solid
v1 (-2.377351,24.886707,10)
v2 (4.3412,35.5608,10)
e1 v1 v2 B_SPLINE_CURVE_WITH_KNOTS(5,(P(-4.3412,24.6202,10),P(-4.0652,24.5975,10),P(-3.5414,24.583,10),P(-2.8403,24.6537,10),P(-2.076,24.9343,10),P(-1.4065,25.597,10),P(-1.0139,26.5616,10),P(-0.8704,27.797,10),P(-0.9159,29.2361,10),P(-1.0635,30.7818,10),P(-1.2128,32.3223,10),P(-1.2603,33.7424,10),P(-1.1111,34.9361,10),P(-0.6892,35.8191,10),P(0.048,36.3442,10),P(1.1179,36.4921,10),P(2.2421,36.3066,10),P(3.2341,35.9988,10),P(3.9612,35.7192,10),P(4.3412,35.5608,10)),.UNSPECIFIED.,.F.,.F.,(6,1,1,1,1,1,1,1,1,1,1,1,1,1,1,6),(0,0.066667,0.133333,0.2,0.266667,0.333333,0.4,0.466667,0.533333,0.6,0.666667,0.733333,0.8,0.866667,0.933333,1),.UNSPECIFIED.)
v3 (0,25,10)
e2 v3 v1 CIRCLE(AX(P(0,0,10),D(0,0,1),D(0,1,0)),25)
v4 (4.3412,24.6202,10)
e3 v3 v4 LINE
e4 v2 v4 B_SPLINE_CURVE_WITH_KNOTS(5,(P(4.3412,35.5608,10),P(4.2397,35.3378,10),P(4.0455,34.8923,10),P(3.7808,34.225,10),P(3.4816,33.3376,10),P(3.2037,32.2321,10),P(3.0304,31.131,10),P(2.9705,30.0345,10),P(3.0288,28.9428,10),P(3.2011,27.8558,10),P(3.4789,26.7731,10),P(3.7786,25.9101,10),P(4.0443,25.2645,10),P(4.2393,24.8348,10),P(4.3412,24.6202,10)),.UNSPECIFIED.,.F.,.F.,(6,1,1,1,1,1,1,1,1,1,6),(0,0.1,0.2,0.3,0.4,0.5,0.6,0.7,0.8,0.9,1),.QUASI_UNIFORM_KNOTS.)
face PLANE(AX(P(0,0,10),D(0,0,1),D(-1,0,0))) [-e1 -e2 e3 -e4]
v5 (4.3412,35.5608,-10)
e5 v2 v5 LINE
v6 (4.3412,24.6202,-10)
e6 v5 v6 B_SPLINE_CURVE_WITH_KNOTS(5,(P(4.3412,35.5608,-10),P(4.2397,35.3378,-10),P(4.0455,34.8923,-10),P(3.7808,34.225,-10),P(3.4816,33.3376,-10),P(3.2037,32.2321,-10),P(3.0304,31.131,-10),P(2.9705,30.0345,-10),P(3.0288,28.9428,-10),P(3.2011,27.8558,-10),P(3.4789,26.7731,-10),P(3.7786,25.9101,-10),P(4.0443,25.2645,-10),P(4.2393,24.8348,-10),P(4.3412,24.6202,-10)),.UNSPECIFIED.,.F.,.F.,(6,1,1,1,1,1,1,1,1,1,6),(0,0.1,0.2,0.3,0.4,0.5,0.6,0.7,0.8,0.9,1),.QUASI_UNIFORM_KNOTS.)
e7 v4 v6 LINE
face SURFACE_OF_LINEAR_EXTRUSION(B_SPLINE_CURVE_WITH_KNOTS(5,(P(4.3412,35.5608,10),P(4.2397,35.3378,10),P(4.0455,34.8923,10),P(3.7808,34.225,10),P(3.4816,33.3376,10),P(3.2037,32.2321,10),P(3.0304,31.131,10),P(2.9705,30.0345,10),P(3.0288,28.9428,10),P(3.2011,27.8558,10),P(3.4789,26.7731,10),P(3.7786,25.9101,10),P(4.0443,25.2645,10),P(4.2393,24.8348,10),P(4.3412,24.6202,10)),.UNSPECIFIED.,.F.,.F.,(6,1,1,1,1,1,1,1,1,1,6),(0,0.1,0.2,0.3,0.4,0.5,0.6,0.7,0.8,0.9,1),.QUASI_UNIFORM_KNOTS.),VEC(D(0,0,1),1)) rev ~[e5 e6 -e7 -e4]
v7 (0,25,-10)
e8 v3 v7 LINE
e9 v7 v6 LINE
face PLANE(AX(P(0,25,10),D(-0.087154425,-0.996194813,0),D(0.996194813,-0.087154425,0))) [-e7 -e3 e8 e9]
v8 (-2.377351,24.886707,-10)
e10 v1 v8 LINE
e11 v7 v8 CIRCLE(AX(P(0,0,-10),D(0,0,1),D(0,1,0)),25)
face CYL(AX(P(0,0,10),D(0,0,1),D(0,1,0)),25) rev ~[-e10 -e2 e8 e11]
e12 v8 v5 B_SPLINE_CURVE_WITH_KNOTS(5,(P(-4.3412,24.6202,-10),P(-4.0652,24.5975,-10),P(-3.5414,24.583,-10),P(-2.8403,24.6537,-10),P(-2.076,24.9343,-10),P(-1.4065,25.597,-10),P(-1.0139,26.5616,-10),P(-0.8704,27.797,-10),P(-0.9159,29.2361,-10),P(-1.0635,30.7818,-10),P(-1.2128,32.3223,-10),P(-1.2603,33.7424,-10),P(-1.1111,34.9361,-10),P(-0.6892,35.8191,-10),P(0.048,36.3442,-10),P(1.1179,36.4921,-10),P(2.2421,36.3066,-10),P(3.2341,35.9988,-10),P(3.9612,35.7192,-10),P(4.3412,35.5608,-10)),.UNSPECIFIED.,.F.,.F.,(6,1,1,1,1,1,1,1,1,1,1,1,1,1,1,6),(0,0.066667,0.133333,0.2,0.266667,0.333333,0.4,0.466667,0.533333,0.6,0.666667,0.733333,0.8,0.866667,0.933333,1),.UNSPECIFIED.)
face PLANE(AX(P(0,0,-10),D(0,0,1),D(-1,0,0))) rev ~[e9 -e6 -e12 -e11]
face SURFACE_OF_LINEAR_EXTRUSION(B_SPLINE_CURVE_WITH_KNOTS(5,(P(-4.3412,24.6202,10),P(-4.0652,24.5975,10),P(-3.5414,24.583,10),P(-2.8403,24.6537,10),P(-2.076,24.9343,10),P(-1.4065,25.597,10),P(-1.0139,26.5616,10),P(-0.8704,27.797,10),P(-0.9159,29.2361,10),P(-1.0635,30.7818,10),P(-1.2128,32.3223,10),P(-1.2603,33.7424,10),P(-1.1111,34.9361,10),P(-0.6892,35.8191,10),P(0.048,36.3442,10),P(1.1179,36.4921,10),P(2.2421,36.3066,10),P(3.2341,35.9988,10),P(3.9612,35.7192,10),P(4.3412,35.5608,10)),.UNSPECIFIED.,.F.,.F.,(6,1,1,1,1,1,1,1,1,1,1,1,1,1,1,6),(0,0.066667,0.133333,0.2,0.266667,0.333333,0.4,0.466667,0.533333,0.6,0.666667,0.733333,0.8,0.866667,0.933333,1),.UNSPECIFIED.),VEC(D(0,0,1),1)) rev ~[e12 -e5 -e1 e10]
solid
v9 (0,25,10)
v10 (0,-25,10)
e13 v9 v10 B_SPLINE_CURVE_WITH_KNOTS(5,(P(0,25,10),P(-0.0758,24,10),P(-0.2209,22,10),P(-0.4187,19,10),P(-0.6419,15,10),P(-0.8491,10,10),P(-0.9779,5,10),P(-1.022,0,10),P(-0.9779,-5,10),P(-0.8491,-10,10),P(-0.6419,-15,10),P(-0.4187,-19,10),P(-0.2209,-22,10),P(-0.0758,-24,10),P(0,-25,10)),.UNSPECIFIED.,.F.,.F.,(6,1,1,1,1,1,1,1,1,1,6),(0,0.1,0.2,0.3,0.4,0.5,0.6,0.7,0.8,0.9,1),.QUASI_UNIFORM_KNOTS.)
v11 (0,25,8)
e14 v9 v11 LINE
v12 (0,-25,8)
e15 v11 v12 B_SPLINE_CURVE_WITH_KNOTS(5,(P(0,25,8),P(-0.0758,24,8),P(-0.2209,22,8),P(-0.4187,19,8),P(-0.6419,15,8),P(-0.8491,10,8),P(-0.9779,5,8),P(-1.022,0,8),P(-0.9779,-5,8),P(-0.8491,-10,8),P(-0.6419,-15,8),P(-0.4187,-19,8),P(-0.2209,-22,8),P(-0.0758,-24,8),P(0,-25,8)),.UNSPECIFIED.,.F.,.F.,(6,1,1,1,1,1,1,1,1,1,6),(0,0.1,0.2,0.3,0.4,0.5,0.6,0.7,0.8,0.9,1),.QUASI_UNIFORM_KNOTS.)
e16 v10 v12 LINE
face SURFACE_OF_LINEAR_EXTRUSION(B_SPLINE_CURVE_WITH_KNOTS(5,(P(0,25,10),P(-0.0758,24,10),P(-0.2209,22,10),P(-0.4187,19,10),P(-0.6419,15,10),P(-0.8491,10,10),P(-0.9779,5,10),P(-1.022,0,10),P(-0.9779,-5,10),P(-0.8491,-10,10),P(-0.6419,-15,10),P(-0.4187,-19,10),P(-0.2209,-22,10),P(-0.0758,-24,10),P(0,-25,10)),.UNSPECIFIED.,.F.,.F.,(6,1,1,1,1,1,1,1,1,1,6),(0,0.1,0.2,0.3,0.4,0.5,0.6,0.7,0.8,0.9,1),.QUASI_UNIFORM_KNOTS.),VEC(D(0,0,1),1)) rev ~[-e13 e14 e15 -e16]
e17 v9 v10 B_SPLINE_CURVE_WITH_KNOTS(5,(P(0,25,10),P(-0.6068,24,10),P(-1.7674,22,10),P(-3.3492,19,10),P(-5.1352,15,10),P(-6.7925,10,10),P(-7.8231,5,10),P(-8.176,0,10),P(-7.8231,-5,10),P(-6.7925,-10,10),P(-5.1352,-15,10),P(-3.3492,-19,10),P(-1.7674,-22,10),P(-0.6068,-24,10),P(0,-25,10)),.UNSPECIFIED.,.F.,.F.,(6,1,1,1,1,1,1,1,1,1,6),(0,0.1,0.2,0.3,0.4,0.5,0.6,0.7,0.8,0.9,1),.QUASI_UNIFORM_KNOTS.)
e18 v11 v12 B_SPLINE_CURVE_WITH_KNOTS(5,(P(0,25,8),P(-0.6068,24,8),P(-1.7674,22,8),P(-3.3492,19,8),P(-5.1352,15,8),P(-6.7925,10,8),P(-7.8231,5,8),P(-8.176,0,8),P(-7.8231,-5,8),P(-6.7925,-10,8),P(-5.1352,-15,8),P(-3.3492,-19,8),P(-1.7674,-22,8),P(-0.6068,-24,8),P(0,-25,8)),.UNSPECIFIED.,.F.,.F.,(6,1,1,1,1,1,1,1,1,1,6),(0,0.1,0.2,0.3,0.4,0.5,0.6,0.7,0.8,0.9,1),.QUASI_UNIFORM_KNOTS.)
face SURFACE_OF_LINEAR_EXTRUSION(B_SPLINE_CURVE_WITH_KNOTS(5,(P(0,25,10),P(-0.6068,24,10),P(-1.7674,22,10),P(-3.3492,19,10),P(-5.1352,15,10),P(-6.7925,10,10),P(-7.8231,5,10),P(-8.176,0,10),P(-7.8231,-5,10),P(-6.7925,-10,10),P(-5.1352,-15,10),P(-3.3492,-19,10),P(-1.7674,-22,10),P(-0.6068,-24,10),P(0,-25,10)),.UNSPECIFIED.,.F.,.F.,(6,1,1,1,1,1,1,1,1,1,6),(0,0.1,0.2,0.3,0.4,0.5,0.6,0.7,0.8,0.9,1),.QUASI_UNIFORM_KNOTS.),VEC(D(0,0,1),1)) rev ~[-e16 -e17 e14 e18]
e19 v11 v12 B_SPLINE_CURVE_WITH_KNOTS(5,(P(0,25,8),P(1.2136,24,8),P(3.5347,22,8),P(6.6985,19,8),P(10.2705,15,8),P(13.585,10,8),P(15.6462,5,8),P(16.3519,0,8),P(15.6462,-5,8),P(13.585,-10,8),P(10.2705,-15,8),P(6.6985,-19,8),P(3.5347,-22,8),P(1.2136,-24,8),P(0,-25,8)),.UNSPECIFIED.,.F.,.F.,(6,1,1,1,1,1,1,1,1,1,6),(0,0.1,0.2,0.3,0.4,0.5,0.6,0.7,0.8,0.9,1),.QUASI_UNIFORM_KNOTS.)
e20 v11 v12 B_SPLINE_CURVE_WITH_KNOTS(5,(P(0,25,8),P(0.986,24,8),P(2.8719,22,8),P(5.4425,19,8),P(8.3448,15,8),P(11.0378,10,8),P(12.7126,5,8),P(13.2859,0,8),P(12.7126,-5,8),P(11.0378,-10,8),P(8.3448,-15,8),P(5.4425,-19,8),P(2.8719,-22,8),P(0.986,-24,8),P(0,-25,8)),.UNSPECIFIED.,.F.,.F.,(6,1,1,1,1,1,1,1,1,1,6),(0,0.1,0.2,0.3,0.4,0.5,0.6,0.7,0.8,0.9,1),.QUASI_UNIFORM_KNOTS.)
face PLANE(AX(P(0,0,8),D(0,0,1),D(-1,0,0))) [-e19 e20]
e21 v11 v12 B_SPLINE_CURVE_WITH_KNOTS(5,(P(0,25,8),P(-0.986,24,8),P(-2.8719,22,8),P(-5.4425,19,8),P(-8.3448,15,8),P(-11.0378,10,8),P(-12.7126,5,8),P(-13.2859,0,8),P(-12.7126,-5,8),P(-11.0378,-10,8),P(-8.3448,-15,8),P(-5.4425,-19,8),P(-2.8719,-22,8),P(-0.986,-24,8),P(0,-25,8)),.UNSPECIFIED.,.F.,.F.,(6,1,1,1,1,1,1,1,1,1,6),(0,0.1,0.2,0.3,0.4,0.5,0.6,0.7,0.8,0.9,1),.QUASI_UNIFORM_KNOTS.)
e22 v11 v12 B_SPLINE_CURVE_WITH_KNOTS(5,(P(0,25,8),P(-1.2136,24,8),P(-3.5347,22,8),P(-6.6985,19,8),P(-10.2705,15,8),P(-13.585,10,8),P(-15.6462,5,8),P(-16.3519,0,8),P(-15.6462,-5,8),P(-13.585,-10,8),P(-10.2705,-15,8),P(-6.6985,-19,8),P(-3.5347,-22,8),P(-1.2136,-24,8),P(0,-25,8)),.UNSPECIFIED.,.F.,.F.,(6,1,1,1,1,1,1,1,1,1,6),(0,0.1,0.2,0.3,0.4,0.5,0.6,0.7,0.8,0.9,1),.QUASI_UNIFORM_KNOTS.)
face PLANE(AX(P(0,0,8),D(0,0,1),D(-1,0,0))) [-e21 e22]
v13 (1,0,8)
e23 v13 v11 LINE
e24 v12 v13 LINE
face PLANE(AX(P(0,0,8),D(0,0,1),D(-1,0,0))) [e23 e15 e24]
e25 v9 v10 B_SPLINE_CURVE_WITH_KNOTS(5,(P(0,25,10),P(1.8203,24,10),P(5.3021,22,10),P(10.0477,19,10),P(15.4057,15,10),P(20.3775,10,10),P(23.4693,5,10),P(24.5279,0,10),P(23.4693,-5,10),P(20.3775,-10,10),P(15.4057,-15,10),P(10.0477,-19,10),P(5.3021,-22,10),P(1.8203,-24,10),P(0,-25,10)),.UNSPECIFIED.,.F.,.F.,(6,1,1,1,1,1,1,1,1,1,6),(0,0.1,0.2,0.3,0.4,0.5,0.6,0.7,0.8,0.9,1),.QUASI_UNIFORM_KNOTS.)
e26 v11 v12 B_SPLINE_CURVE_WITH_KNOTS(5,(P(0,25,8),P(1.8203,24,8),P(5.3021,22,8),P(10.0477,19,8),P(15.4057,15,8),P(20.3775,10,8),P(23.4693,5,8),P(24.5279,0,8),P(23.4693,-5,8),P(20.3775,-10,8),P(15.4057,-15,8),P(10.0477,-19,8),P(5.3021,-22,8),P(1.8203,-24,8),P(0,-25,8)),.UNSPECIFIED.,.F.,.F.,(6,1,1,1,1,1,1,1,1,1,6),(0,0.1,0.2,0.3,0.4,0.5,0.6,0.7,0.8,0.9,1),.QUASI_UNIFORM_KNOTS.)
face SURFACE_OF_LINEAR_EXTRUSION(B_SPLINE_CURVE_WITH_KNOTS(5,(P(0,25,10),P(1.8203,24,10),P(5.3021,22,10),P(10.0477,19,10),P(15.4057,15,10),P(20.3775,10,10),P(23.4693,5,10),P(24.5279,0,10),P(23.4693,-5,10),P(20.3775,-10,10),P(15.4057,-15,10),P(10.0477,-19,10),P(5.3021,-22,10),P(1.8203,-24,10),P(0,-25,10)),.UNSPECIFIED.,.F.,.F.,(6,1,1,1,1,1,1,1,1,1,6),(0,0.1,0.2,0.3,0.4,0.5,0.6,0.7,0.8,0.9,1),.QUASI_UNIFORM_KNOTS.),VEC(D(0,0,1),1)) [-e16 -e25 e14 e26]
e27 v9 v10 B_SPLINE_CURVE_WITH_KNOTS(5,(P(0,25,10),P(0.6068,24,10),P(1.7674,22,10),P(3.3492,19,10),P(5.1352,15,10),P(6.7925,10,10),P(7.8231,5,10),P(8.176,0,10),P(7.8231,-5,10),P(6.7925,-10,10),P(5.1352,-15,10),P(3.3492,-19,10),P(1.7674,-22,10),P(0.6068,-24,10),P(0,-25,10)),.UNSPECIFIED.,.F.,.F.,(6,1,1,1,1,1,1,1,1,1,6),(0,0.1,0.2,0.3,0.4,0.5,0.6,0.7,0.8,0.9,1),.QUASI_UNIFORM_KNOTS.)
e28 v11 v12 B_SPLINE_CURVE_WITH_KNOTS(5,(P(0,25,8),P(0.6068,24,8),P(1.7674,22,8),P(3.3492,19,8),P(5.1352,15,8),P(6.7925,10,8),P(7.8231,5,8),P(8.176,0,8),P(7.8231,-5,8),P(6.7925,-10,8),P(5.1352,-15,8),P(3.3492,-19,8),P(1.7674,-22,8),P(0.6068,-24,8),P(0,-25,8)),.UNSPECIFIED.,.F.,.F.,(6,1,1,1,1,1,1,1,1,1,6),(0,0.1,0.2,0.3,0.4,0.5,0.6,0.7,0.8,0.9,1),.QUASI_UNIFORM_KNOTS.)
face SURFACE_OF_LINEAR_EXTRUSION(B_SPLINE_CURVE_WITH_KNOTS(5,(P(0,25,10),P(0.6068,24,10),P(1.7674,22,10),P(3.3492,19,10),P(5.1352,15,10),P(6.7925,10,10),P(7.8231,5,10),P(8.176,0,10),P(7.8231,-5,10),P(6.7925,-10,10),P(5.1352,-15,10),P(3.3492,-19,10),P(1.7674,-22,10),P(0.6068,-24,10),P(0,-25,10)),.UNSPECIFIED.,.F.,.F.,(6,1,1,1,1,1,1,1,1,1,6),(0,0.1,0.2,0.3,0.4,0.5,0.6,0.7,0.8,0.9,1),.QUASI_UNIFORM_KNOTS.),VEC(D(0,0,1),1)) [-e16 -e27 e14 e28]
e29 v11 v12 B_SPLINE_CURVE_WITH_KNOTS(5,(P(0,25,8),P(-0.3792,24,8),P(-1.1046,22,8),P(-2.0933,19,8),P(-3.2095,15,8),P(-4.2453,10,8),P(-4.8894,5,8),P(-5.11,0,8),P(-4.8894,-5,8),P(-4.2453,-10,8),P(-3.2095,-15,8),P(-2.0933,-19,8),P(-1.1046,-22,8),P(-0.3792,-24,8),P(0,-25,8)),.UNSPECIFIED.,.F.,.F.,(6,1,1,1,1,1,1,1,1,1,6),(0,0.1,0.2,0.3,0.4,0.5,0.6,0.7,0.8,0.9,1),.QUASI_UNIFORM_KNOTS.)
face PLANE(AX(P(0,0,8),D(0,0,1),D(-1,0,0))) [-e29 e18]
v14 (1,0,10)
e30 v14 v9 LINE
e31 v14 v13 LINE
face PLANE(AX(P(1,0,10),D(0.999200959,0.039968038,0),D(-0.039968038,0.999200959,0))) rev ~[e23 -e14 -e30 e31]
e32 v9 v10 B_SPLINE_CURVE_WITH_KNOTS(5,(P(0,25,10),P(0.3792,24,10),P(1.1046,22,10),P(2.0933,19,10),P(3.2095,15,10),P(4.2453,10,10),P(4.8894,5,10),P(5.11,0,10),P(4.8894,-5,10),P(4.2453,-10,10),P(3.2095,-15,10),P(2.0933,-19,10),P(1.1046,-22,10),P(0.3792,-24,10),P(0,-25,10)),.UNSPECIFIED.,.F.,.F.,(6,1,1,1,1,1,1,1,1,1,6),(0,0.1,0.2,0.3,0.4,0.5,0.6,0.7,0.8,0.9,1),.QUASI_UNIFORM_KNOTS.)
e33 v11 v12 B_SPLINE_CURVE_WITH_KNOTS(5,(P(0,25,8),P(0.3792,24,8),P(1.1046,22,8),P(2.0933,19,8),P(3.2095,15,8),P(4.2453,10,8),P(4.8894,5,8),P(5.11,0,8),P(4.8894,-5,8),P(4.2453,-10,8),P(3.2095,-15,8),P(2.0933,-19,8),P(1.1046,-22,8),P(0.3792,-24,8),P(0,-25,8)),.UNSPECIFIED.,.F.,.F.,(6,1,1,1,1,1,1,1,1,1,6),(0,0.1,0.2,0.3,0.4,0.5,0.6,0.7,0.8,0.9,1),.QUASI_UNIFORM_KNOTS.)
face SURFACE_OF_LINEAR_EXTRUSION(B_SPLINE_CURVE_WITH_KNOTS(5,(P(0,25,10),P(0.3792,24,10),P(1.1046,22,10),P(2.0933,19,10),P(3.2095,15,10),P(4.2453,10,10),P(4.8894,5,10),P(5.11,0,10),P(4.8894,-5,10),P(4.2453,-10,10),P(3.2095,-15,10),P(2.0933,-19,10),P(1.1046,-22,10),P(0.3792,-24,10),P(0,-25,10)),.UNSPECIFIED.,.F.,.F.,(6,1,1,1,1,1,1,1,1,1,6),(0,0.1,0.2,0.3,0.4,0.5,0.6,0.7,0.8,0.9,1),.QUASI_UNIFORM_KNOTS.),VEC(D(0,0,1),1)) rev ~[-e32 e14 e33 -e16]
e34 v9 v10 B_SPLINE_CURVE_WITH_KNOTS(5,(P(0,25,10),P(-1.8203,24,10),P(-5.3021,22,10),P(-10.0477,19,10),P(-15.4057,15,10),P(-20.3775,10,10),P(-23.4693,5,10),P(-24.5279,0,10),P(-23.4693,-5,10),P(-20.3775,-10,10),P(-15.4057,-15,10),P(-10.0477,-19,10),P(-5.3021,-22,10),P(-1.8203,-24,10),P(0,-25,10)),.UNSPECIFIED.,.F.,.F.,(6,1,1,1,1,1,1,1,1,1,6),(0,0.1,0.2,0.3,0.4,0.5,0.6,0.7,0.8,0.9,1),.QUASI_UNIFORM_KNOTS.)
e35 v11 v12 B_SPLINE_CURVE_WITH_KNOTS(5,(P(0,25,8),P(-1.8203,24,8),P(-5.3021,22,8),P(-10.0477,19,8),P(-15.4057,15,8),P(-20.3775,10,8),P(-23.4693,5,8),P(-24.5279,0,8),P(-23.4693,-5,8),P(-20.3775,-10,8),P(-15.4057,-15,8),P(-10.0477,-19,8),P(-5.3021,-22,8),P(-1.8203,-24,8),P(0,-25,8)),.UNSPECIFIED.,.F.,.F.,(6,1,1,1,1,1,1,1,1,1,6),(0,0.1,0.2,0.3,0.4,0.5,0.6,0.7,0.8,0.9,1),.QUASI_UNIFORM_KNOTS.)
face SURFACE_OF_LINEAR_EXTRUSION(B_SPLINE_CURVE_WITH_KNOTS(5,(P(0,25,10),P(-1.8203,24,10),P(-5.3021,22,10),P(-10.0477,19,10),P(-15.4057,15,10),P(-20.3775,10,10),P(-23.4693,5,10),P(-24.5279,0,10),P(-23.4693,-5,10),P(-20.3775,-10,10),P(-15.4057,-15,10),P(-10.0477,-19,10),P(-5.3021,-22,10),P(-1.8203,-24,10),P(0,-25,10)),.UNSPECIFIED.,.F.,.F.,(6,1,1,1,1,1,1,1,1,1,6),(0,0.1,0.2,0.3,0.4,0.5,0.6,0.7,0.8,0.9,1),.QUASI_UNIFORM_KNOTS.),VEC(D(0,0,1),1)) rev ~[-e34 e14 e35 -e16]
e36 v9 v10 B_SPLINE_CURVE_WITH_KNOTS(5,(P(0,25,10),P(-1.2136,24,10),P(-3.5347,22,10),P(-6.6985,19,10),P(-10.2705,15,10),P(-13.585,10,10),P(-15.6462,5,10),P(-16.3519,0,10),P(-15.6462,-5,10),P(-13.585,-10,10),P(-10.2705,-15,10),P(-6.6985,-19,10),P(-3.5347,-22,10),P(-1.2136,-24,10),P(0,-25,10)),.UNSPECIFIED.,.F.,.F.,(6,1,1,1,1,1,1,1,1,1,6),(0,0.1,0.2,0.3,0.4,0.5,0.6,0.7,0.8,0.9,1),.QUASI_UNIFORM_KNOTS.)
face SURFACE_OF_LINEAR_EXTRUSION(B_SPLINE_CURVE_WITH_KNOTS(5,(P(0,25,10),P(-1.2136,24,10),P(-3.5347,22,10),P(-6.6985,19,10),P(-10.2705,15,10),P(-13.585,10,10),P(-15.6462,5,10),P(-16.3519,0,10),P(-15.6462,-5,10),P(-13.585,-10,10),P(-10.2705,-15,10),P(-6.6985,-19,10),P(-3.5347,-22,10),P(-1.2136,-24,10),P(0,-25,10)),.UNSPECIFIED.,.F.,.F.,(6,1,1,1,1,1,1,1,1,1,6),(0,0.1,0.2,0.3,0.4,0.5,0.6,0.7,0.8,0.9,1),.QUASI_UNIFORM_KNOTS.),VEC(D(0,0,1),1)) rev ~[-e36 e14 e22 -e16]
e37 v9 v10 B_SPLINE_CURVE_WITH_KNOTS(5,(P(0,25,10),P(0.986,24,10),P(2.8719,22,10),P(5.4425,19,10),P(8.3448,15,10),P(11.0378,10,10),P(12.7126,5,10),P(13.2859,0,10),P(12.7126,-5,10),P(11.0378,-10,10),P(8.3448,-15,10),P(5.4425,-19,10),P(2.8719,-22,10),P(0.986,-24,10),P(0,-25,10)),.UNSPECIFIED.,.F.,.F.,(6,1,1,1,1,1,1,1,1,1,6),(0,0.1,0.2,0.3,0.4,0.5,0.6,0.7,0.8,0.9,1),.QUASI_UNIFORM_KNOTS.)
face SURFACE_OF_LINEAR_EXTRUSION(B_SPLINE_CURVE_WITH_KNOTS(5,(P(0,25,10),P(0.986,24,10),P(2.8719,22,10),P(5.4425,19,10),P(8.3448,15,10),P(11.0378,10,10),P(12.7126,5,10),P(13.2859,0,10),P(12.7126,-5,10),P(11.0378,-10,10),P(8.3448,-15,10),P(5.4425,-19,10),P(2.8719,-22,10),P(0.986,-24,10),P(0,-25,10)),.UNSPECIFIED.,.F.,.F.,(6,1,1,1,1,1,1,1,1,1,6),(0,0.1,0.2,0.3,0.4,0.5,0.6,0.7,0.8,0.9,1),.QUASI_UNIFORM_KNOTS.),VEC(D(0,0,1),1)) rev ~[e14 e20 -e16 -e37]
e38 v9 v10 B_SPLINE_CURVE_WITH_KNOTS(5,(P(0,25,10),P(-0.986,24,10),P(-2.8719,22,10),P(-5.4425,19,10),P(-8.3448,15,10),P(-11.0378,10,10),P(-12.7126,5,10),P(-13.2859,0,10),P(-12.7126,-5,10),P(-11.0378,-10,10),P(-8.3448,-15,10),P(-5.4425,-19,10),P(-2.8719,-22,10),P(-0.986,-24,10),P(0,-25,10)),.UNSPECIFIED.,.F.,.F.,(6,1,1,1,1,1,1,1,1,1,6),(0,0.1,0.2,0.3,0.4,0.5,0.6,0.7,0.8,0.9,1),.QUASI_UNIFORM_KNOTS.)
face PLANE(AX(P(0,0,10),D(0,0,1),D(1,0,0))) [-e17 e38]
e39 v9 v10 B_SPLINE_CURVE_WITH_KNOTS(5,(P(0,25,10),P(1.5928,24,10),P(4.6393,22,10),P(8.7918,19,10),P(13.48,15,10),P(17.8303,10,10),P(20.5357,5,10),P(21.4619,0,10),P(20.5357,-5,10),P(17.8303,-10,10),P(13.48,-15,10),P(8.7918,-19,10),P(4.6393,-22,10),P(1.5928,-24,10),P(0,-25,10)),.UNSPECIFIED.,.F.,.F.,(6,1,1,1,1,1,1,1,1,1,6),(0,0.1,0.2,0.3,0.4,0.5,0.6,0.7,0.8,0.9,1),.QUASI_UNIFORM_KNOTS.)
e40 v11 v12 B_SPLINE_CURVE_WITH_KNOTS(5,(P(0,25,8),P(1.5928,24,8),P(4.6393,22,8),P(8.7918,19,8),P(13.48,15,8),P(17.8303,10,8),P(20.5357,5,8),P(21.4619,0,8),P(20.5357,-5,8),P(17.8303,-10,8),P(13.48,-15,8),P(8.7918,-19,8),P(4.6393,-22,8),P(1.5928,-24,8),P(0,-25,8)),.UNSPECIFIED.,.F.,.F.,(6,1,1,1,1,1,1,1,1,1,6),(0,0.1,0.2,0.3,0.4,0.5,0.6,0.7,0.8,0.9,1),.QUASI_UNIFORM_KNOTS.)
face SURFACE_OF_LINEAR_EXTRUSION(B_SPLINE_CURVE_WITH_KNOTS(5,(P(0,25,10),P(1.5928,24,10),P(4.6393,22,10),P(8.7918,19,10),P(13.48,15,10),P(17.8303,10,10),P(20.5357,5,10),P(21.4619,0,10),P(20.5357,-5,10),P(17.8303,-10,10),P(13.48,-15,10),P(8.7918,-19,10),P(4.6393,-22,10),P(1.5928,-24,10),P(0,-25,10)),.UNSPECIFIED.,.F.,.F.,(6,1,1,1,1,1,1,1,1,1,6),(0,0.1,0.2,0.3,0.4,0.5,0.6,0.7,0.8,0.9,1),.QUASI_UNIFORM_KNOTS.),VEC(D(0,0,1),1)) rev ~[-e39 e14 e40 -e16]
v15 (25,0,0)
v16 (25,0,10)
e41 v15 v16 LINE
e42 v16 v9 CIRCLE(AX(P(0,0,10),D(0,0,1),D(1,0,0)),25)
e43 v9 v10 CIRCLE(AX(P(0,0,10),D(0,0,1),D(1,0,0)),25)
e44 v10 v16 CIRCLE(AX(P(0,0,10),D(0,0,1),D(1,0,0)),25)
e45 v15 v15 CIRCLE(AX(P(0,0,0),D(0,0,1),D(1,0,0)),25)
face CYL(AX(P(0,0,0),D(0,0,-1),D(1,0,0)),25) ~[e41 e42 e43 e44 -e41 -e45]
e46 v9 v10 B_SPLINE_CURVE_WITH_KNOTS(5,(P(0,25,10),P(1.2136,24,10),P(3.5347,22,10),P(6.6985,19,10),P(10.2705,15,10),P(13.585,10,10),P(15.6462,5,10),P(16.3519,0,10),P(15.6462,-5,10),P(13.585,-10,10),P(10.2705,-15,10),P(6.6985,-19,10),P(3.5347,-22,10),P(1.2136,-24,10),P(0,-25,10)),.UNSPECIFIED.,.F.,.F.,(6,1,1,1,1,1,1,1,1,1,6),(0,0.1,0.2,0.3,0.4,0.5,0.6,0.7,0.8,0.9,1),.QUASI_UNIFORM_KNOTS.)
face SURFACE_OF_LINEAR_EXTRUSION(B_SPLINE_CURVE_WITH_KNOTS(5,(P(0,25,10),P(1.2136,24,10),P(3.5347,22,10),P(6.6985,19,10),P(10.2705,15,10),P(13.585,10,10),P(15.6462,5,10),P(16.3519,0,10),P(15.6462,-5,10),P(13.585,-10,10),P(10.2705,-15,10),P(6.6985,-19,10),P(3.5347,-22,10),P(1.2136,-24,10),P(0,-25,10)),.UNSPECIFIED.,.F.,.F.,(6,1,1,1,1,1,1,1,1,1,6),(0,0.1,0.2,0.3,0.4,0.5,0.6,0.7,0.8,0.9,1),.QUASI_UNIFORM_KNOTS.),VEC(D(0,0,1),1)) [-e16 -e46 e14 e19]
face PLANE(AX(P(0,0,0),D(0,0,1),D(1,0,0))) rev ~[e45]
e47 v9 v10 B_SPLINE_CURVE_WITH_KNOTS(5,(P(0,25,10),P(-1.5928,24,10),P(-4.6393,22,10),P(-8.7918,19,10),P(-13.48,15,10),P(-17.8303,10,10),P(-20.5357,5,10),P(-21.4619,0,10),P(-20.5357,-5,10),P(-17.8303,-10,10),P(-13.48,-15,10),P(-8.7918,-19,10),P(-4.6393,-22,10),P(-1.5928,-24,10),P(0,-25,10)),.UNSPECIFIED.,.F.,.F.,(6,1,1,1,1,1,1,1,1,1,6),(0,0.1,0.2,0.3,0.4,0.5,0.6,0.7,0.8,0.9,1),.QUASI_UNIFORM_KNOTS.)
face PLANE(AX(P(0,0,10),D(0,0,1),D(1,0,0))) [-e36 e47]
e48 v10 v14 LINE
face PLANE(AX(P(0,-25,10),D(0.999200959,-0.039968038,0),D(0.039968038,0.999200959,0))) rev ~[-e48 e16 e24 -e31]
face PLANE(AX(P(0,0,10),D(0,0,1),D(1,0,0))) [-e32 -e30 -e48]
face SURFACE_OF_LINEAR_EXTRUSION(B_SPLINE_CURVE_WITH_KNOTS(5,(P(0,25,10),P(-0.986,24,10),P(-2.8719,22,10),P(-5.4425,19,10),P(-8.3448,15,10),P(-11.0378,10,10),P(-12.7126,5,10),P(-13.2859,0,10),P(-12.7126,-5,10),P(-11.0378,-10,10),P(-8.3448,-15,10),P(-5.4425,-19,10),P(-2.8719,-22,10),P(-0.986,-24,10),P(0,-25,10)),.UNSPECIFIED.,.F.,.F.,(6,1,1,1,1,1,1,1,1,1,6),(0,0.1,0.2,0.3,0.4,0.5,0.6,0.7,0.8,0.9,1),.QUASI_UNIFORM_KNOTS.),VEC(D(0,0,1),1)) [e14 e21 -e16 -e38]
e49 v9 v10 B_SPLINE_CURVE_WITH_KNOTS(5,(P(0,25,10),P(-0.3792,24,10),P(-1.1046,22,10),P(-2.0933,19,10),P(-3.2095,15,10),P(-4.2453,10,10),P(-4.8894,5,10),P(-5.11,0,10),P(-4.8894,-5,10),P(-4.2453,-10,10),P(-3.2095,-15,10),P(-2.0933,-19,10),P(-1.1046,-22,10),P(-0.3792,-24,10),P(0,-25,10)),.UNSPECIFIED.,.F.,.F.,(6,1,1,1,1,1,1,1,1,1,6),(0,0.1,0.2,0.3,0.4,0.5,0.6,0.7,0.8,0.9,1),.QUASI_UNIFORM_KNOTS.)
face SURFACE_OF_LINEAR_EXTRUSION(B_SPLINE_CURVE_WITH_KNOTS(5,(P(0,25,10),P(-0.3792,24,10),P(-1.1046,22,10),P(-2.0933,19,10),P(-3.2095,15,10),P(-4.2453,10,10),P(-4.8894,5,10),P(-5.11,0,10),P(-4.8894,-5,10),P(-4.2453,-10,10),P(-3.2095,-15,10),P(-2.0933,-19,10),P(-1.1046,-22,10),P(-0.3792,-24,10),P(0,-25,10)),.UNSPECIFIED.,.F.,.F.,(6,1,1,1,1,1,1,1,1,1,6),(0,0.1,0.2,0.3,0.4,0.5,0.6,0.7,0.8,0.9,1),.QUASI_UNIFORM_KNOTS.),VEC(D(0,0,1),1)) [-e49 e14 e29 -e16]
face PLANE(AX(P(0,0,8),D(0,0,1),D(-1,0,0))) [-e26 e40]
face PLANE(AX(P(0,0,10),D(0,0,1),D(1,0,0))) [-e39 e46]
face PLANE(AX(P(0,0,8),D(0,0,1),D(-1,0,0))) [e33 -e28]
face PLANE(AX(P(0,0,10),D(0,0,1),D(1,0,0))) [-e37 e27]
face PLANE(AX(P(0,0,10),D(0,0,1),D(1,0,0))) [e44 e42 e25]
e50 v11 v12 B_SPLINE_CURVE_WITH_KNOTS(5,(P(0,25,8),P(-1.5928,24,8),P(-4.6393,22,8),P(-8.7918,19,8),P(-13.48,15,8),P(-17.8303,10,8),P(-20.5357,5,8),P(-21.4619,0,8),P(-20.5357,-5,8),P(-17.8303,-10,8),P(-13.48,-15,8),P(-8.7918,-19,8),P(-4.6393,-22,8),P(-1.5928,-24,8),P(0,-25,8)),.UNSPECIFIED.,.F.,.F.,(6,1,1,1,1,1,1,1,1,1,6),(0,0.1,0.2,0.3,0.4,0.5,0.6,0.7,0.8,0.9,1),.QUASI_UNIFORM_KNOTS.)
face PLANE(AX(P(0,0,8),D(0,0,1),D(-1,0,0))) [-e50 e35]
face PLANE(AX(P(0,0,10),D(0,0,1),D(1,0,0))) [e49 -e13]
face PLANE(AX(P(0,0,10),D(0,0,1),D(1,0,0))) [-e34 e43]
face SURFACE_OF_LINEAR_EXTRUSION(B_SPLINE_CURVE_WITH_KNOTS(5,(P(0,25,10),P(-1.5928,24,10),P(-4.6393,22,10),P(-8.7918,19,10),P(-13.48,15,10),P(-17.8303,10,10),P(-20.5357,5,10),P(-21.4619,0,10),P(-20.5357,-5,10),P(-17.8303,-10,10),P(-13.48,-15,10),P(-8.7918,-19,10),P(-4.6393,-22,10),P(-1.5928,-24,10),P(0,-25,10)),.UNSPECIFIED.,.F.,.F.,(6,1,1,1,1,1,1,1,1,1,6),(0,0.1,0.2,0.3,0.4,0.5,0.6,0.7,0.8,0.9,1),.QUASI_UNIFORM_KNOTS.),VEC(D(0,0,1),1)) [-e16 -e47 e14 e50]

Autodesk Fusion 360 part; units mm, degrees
sketch "Sketch1" plane through (0, 0, 0) normal (0, 0, 1) x (1, 0, 0)
  circle A0 centre (0, 0) radius 25
extrude "Extrude1" add sketch "Sketch1" along normal blind 10 makes body 1
sketch "Sketch2" plane through (0, 0, 10) normal (0, 0, 1) x (-1, 0, 0)
  circle A0 centre (0, 0) radius 25
  spline S0 degree 5 poles (0, -25) (-0.3792, -24) (-1.1046, -22) (-2.0933, -19) (-3.2095, -15) (-4.2453, -10) (-4.8894, -5) (-5.11, 0) (-4.8894, 5) (-4.2453, 10) (-3.2095, 15) (-2.0933, 19) (-1.1046, 22) (-0.3792, 24) (0, 25) knots 0 0 0 0 0 0 0.1 0.2 0.3 0.4 0.5 0.6 0.7 0.8 0.9 1 1 1 1 1 1
  spline S1 degree 5 poles (0, -25) (0.3792, -24) (1.1046, -22) (2.0933, -19) (3.2095, -15) (4.2453, -10) (4.8894, -5) (5.11, 0) (4.8894, 5) (4.2453, 10) (3.2095, 15) (2.0933, 19) (1.1046, 22) (0.3792, 24) (0, 25) knots 0 0 0 0 0 0 0.1 0.2 0.3 0.4 0.5 0.6 0.7 0.8 0.9 1 1 1 1 1 1
  spline S2 degree 5 poles (0, -25) (-0.6068, -24) (-1.7674, -22) (-3.3492, -19) (-5.1352, -15) (-6.7925, -10) (-7.8231, -5) (-8.176, 0) (-7.8231, 5) (-6.7925, 10) (-5.1352, 15) (-3.3492, 19) (-1.7674, 22) (-0.6068, 24) (0, 25) knots 0 0 0 0 0 0 0.1 0.2 0.3 0.4 0.5 0.6 0.7 0.8 0.9 1 1 1 1 1 1
  spline S3 degree 5 poles (0, -25) (0.6068, -24) (1.7674, -22) (3.3492, -19) (5.1352, -15) (6.7925, -10) (7.8231, -5) (8.176, 0) (7.8231, 5) (6.7925, 10) (5.1352, 15) (3.3492, 19) (1.7674, 22) (0.6068, 24) (0, 25) knots 0 0 0 0 0 0 0.1 0.2 0.3 0.4 0.5 0.6 0.7 0.8 0.9 1 1 1 1 1 1
  spline S4 degree 5 poles (0, -25) (-0.986, -24) (-2.8719, -22) (-5.4425, -19) (-8.3448, -15) (-11.0378, -10) (-12.7126, -5) (-13.2859, 0) (-12.7126, 5) (-11.0378, 10) (-8.3448, 15) (-5.4425, 19) (-2.8719, 22) (-0.986, 24) (0, 25) knots 0 0 0 0 0 0 0.1 0.2 0.3 0.4 0.5 0.6 0.7 0.8 0.9 1 1 1 1 1 1
  spline S5 degree 5 poles (0, -25) (-1.2136, -24) (-3.5347, -22) (-6.6985, -19) (-10.2705, -15) (-13.585, -10) (-15.6462, -5) (-16.3519, 0) (-15.6462, 5) (-13.585, 10) (-10.2705, 15) (-6.6985, 19) (-3.5347, 22) (-1.2136, 24) (0, 25) knots 0 0 0 0 0 0 0.1 0.2 0.3 0.4 0.5 0.6 0.7 0.8 0.9 1 1 1 1 1 1
  spline S6 degree 5 poles (0, -25) (-1.5928, -24) (-4.6393, -22) (-8.7918, -19) (-13.48, -15) (-17.8303, -10) (-20.5357, -5) (-21.4619, 0) (-20.5357, 5) (-17.8303, 10) (-13.48, 15) (-8.7918, 19) (-4.6393, 22) (-1.5928, 24) (0, 25) knots 0 0 0 0 0 0 0.1 0.2 0.3 0.4 0.5 0.6 0.7 0.8 0.9 1 1 1 1 1 1
  spline S7 degree 5 poles (0, -25) (-1.8203, -24) (-5.3021, -22) (-10.0477, -19) (-15.4057, -15) (-20.3775, -10) (-23.4693, -5) (-24.5279, 0) (-23.4693, 5) (-20.3775, 10) (-15.4057, 15) (-10.0477, 19) (-5.3021, 22) (-1.8203, 24) (0, 25) knots 0 0 0 0 0 0 0.1 0.2 0.3 0.4 0.5 0.6 0.7 0.8 0.9 1 1 1 1 1 1
  spline S8 degree 5 poles (0, -25) (0.986, -24) (2.8719, -22) (5.4425, -19) (8.3448, -15) (11.0378, -10) (12.7126, -5) (13.2859, 0) (12.7126, 5) (11.0378, 10) (8.3448, 15) (5.4425, 19) (2.8719, 22) (0.986, 24) (0, 25) knots 0 0 0 0 0 0 0.1 0.2 0.3 0.4 0.5 0.6 0.7 0.8 0.9 1 1 1 1 1 1
  spline S9 degree 5 poles (0, -25) (1.2136, -24) (3.5347, -22) (6.6985, -19) (10.2705, -15) (13.585, -10) (15.6462, -5) (16.3519, 0) (15.6462, 5) (13.585, 10) (10.2705, 15) (6.6985, 19) (3.5347, 22) (1.2136, 24) (0, 25) knots 0 0 0 0 0 0 0.1 0.2 0.3 0.4 0.5 0.6 0.7 0.8 0.9 1 1 1 1 1 1
  spline S10 degree 5 poles (0, -25) (1.5928, -24) (4.6393, -22) (8.7918, -19) (13.48, -15) (17.8303, -10) (20.5357, -5) (21.4619, 0) (20.5357, 5) (17.8303, 10) (13.48, 15) (8.7918, 19) (4.6393, 22) (1.5928, 24) (0, 25) knots 0 0 0 0 0 0 0.1 0.2 0.3 0.4 0.5 0.6 0.7 0.8 0.9 1 1 1 1 1 1
  spline S11 degree 5 poles (0, -25) (1.8203, -24) (5.3021, -22) (10.0477, -19) (15.4057, -15) (20.3775, -10) (23.4693, -5) (24.5279, 0) (23.4693, 5) (20.3775, 10) (15.4057, 15) (10.0477, 19) (5.3021, 22) (1.8203, 24) (0, 25) knots 0 0 0 0 0 0 0.1 0.2 0.3 0.4 0.5 0.6 0.7 0.8 0.9 1 1 1 1 1 1
  line L0 (0, 25) -> (-1, 0)
  line L1 (-1, 0) -> (0, -25)
  spline S12 degree 5 poles (0, -25) (0.0758, -24) (0.2209, -22) (0.4187, -19) (0.6419, -15) (0.8491, -10) (0.9779, -5) (1.022, 0) (0.9779, 5) (0.8491, 10) (0.6419, 15) (0.4187, 19) (0.2209, 22) (0.0758, 24) (0, 25) knots 0 0 0 0 0 0 0.1 0.2 0.3 0.4 0.5 0.6 0.7 0.8 0.9 1 1 1 1 1 1
  point P0 (-5, 0)
  point P1 (5, 0)
  point P2 (-8, 0)
  point P3 (8, 0)
  point P4 (-13, 0)
  point P5 (-16, 0)
  point P6 (-21, 0)
  point P7 (-24, 0)
  point P8 (13, 0)
  point P9 (16, 0)
  point P10 (21, 0)
  point P11 (24, 0)
  point P12 (1, 0)
extrude "Extrude2" cut sketch "Sketch2" against normal blind 2 contours S1 S3 | S0 S2 | S4 S5 | S6 S7 | S8 S9 | S10 S11 | L0 L1 S12 bodies 1
sketch "Sketch3" plane through (0, 0, 10) normal (0, 0, 1) x (-1, 0, 0)
  spline S0 degree 5 poles (0, 25) (1.8203, 24) (5.3021, 22) (10.0477, 19) (15.4057, 15) (20.3775, 10) (23.4693, 5) (24.5279, 0) (23.4693, -5) (20.3775, -10) (15.4057, -15) (10.0477, -19) (5.3021, -22) (1.8203, -24) (0, -25) knots -1 -1 -1 -1 -1 -1 -0.9 -0.8 -0.7 -0.6 -0.5 -0.4 -0.3 -0.2 -0.1 0 0 0 0 0 0
  arc A0 (0, -25) -> (0, 25) centre (0, 0) ccw
  line L0 (0, 0) -> (25, 0) construction
  line L1 (0, 0) -> (-25, 0) construction
  spline S1 degree 5 poles (4.3412, -24.6202) (4.0652, -24.5975) (3.5414, -24.583) (2.8403, -24.6537) (2.076, -24.9343) (1.4065, -25.597) (1.0139, -26.5616) (0.8704, -27.797) (0.9159, -29.2361) (1.0635, -30.7818) (1.2128, -32.3223) (1.2603, -33.7424) (1.1111, -34.9361) (0.6892, -35.8191) (-0.048, -36.3442) (-1.1179, -36.4921) (-2.2421, -36.3066) (-3.2341, -35.9988) (-3.9612, -35.7192) (-4.3412, -35.5608) knots 0 0 0 0 0 0 0.066667 0.133333 0.2 0.266667 0.333333 0.4 0.466667 0.533333 0.6 0.666667 0.733333 0.8 0.866667 0.933333 1 1 1 1 1 1
  spline S2 degree 5 poles (-4.3412, -35.5608) (-4.2397, -35.3378) (-4.0455, -34.8923) (-3.7808, -34.225) (-3.4816, -33.3376) (-3.2037, -32.2321) (-3.0304, -31.131) (-2.9705, -30.0345) (-3.0288, -28.9428) (-3.2011, -27.8558) (-3.4789, -26.7731) (-3.7786, -25.9101) (-4.0443, -25.2645) (-4.2393, -24.8348) (-4.3412, -24.6202) knots 0 0 0 0 0 0 0.1 0.2 0.3 0.4 0.5 0.6 0.7 0.8 0.9 1 1 1 1 1 1
  line L2 (4.3412, -24.6202) -> (0, -25)
  line L3 (0, -25) -> (-4.3412, -24.6202)
  point P0 (1, -27)
  point P1 (1, -35)
  point P2 (-3, -30)
extrude "Extrude3" add sketch "Sketch3" against normal blind 20 separate body contours A0 S1 S2 L3 makes body 2
